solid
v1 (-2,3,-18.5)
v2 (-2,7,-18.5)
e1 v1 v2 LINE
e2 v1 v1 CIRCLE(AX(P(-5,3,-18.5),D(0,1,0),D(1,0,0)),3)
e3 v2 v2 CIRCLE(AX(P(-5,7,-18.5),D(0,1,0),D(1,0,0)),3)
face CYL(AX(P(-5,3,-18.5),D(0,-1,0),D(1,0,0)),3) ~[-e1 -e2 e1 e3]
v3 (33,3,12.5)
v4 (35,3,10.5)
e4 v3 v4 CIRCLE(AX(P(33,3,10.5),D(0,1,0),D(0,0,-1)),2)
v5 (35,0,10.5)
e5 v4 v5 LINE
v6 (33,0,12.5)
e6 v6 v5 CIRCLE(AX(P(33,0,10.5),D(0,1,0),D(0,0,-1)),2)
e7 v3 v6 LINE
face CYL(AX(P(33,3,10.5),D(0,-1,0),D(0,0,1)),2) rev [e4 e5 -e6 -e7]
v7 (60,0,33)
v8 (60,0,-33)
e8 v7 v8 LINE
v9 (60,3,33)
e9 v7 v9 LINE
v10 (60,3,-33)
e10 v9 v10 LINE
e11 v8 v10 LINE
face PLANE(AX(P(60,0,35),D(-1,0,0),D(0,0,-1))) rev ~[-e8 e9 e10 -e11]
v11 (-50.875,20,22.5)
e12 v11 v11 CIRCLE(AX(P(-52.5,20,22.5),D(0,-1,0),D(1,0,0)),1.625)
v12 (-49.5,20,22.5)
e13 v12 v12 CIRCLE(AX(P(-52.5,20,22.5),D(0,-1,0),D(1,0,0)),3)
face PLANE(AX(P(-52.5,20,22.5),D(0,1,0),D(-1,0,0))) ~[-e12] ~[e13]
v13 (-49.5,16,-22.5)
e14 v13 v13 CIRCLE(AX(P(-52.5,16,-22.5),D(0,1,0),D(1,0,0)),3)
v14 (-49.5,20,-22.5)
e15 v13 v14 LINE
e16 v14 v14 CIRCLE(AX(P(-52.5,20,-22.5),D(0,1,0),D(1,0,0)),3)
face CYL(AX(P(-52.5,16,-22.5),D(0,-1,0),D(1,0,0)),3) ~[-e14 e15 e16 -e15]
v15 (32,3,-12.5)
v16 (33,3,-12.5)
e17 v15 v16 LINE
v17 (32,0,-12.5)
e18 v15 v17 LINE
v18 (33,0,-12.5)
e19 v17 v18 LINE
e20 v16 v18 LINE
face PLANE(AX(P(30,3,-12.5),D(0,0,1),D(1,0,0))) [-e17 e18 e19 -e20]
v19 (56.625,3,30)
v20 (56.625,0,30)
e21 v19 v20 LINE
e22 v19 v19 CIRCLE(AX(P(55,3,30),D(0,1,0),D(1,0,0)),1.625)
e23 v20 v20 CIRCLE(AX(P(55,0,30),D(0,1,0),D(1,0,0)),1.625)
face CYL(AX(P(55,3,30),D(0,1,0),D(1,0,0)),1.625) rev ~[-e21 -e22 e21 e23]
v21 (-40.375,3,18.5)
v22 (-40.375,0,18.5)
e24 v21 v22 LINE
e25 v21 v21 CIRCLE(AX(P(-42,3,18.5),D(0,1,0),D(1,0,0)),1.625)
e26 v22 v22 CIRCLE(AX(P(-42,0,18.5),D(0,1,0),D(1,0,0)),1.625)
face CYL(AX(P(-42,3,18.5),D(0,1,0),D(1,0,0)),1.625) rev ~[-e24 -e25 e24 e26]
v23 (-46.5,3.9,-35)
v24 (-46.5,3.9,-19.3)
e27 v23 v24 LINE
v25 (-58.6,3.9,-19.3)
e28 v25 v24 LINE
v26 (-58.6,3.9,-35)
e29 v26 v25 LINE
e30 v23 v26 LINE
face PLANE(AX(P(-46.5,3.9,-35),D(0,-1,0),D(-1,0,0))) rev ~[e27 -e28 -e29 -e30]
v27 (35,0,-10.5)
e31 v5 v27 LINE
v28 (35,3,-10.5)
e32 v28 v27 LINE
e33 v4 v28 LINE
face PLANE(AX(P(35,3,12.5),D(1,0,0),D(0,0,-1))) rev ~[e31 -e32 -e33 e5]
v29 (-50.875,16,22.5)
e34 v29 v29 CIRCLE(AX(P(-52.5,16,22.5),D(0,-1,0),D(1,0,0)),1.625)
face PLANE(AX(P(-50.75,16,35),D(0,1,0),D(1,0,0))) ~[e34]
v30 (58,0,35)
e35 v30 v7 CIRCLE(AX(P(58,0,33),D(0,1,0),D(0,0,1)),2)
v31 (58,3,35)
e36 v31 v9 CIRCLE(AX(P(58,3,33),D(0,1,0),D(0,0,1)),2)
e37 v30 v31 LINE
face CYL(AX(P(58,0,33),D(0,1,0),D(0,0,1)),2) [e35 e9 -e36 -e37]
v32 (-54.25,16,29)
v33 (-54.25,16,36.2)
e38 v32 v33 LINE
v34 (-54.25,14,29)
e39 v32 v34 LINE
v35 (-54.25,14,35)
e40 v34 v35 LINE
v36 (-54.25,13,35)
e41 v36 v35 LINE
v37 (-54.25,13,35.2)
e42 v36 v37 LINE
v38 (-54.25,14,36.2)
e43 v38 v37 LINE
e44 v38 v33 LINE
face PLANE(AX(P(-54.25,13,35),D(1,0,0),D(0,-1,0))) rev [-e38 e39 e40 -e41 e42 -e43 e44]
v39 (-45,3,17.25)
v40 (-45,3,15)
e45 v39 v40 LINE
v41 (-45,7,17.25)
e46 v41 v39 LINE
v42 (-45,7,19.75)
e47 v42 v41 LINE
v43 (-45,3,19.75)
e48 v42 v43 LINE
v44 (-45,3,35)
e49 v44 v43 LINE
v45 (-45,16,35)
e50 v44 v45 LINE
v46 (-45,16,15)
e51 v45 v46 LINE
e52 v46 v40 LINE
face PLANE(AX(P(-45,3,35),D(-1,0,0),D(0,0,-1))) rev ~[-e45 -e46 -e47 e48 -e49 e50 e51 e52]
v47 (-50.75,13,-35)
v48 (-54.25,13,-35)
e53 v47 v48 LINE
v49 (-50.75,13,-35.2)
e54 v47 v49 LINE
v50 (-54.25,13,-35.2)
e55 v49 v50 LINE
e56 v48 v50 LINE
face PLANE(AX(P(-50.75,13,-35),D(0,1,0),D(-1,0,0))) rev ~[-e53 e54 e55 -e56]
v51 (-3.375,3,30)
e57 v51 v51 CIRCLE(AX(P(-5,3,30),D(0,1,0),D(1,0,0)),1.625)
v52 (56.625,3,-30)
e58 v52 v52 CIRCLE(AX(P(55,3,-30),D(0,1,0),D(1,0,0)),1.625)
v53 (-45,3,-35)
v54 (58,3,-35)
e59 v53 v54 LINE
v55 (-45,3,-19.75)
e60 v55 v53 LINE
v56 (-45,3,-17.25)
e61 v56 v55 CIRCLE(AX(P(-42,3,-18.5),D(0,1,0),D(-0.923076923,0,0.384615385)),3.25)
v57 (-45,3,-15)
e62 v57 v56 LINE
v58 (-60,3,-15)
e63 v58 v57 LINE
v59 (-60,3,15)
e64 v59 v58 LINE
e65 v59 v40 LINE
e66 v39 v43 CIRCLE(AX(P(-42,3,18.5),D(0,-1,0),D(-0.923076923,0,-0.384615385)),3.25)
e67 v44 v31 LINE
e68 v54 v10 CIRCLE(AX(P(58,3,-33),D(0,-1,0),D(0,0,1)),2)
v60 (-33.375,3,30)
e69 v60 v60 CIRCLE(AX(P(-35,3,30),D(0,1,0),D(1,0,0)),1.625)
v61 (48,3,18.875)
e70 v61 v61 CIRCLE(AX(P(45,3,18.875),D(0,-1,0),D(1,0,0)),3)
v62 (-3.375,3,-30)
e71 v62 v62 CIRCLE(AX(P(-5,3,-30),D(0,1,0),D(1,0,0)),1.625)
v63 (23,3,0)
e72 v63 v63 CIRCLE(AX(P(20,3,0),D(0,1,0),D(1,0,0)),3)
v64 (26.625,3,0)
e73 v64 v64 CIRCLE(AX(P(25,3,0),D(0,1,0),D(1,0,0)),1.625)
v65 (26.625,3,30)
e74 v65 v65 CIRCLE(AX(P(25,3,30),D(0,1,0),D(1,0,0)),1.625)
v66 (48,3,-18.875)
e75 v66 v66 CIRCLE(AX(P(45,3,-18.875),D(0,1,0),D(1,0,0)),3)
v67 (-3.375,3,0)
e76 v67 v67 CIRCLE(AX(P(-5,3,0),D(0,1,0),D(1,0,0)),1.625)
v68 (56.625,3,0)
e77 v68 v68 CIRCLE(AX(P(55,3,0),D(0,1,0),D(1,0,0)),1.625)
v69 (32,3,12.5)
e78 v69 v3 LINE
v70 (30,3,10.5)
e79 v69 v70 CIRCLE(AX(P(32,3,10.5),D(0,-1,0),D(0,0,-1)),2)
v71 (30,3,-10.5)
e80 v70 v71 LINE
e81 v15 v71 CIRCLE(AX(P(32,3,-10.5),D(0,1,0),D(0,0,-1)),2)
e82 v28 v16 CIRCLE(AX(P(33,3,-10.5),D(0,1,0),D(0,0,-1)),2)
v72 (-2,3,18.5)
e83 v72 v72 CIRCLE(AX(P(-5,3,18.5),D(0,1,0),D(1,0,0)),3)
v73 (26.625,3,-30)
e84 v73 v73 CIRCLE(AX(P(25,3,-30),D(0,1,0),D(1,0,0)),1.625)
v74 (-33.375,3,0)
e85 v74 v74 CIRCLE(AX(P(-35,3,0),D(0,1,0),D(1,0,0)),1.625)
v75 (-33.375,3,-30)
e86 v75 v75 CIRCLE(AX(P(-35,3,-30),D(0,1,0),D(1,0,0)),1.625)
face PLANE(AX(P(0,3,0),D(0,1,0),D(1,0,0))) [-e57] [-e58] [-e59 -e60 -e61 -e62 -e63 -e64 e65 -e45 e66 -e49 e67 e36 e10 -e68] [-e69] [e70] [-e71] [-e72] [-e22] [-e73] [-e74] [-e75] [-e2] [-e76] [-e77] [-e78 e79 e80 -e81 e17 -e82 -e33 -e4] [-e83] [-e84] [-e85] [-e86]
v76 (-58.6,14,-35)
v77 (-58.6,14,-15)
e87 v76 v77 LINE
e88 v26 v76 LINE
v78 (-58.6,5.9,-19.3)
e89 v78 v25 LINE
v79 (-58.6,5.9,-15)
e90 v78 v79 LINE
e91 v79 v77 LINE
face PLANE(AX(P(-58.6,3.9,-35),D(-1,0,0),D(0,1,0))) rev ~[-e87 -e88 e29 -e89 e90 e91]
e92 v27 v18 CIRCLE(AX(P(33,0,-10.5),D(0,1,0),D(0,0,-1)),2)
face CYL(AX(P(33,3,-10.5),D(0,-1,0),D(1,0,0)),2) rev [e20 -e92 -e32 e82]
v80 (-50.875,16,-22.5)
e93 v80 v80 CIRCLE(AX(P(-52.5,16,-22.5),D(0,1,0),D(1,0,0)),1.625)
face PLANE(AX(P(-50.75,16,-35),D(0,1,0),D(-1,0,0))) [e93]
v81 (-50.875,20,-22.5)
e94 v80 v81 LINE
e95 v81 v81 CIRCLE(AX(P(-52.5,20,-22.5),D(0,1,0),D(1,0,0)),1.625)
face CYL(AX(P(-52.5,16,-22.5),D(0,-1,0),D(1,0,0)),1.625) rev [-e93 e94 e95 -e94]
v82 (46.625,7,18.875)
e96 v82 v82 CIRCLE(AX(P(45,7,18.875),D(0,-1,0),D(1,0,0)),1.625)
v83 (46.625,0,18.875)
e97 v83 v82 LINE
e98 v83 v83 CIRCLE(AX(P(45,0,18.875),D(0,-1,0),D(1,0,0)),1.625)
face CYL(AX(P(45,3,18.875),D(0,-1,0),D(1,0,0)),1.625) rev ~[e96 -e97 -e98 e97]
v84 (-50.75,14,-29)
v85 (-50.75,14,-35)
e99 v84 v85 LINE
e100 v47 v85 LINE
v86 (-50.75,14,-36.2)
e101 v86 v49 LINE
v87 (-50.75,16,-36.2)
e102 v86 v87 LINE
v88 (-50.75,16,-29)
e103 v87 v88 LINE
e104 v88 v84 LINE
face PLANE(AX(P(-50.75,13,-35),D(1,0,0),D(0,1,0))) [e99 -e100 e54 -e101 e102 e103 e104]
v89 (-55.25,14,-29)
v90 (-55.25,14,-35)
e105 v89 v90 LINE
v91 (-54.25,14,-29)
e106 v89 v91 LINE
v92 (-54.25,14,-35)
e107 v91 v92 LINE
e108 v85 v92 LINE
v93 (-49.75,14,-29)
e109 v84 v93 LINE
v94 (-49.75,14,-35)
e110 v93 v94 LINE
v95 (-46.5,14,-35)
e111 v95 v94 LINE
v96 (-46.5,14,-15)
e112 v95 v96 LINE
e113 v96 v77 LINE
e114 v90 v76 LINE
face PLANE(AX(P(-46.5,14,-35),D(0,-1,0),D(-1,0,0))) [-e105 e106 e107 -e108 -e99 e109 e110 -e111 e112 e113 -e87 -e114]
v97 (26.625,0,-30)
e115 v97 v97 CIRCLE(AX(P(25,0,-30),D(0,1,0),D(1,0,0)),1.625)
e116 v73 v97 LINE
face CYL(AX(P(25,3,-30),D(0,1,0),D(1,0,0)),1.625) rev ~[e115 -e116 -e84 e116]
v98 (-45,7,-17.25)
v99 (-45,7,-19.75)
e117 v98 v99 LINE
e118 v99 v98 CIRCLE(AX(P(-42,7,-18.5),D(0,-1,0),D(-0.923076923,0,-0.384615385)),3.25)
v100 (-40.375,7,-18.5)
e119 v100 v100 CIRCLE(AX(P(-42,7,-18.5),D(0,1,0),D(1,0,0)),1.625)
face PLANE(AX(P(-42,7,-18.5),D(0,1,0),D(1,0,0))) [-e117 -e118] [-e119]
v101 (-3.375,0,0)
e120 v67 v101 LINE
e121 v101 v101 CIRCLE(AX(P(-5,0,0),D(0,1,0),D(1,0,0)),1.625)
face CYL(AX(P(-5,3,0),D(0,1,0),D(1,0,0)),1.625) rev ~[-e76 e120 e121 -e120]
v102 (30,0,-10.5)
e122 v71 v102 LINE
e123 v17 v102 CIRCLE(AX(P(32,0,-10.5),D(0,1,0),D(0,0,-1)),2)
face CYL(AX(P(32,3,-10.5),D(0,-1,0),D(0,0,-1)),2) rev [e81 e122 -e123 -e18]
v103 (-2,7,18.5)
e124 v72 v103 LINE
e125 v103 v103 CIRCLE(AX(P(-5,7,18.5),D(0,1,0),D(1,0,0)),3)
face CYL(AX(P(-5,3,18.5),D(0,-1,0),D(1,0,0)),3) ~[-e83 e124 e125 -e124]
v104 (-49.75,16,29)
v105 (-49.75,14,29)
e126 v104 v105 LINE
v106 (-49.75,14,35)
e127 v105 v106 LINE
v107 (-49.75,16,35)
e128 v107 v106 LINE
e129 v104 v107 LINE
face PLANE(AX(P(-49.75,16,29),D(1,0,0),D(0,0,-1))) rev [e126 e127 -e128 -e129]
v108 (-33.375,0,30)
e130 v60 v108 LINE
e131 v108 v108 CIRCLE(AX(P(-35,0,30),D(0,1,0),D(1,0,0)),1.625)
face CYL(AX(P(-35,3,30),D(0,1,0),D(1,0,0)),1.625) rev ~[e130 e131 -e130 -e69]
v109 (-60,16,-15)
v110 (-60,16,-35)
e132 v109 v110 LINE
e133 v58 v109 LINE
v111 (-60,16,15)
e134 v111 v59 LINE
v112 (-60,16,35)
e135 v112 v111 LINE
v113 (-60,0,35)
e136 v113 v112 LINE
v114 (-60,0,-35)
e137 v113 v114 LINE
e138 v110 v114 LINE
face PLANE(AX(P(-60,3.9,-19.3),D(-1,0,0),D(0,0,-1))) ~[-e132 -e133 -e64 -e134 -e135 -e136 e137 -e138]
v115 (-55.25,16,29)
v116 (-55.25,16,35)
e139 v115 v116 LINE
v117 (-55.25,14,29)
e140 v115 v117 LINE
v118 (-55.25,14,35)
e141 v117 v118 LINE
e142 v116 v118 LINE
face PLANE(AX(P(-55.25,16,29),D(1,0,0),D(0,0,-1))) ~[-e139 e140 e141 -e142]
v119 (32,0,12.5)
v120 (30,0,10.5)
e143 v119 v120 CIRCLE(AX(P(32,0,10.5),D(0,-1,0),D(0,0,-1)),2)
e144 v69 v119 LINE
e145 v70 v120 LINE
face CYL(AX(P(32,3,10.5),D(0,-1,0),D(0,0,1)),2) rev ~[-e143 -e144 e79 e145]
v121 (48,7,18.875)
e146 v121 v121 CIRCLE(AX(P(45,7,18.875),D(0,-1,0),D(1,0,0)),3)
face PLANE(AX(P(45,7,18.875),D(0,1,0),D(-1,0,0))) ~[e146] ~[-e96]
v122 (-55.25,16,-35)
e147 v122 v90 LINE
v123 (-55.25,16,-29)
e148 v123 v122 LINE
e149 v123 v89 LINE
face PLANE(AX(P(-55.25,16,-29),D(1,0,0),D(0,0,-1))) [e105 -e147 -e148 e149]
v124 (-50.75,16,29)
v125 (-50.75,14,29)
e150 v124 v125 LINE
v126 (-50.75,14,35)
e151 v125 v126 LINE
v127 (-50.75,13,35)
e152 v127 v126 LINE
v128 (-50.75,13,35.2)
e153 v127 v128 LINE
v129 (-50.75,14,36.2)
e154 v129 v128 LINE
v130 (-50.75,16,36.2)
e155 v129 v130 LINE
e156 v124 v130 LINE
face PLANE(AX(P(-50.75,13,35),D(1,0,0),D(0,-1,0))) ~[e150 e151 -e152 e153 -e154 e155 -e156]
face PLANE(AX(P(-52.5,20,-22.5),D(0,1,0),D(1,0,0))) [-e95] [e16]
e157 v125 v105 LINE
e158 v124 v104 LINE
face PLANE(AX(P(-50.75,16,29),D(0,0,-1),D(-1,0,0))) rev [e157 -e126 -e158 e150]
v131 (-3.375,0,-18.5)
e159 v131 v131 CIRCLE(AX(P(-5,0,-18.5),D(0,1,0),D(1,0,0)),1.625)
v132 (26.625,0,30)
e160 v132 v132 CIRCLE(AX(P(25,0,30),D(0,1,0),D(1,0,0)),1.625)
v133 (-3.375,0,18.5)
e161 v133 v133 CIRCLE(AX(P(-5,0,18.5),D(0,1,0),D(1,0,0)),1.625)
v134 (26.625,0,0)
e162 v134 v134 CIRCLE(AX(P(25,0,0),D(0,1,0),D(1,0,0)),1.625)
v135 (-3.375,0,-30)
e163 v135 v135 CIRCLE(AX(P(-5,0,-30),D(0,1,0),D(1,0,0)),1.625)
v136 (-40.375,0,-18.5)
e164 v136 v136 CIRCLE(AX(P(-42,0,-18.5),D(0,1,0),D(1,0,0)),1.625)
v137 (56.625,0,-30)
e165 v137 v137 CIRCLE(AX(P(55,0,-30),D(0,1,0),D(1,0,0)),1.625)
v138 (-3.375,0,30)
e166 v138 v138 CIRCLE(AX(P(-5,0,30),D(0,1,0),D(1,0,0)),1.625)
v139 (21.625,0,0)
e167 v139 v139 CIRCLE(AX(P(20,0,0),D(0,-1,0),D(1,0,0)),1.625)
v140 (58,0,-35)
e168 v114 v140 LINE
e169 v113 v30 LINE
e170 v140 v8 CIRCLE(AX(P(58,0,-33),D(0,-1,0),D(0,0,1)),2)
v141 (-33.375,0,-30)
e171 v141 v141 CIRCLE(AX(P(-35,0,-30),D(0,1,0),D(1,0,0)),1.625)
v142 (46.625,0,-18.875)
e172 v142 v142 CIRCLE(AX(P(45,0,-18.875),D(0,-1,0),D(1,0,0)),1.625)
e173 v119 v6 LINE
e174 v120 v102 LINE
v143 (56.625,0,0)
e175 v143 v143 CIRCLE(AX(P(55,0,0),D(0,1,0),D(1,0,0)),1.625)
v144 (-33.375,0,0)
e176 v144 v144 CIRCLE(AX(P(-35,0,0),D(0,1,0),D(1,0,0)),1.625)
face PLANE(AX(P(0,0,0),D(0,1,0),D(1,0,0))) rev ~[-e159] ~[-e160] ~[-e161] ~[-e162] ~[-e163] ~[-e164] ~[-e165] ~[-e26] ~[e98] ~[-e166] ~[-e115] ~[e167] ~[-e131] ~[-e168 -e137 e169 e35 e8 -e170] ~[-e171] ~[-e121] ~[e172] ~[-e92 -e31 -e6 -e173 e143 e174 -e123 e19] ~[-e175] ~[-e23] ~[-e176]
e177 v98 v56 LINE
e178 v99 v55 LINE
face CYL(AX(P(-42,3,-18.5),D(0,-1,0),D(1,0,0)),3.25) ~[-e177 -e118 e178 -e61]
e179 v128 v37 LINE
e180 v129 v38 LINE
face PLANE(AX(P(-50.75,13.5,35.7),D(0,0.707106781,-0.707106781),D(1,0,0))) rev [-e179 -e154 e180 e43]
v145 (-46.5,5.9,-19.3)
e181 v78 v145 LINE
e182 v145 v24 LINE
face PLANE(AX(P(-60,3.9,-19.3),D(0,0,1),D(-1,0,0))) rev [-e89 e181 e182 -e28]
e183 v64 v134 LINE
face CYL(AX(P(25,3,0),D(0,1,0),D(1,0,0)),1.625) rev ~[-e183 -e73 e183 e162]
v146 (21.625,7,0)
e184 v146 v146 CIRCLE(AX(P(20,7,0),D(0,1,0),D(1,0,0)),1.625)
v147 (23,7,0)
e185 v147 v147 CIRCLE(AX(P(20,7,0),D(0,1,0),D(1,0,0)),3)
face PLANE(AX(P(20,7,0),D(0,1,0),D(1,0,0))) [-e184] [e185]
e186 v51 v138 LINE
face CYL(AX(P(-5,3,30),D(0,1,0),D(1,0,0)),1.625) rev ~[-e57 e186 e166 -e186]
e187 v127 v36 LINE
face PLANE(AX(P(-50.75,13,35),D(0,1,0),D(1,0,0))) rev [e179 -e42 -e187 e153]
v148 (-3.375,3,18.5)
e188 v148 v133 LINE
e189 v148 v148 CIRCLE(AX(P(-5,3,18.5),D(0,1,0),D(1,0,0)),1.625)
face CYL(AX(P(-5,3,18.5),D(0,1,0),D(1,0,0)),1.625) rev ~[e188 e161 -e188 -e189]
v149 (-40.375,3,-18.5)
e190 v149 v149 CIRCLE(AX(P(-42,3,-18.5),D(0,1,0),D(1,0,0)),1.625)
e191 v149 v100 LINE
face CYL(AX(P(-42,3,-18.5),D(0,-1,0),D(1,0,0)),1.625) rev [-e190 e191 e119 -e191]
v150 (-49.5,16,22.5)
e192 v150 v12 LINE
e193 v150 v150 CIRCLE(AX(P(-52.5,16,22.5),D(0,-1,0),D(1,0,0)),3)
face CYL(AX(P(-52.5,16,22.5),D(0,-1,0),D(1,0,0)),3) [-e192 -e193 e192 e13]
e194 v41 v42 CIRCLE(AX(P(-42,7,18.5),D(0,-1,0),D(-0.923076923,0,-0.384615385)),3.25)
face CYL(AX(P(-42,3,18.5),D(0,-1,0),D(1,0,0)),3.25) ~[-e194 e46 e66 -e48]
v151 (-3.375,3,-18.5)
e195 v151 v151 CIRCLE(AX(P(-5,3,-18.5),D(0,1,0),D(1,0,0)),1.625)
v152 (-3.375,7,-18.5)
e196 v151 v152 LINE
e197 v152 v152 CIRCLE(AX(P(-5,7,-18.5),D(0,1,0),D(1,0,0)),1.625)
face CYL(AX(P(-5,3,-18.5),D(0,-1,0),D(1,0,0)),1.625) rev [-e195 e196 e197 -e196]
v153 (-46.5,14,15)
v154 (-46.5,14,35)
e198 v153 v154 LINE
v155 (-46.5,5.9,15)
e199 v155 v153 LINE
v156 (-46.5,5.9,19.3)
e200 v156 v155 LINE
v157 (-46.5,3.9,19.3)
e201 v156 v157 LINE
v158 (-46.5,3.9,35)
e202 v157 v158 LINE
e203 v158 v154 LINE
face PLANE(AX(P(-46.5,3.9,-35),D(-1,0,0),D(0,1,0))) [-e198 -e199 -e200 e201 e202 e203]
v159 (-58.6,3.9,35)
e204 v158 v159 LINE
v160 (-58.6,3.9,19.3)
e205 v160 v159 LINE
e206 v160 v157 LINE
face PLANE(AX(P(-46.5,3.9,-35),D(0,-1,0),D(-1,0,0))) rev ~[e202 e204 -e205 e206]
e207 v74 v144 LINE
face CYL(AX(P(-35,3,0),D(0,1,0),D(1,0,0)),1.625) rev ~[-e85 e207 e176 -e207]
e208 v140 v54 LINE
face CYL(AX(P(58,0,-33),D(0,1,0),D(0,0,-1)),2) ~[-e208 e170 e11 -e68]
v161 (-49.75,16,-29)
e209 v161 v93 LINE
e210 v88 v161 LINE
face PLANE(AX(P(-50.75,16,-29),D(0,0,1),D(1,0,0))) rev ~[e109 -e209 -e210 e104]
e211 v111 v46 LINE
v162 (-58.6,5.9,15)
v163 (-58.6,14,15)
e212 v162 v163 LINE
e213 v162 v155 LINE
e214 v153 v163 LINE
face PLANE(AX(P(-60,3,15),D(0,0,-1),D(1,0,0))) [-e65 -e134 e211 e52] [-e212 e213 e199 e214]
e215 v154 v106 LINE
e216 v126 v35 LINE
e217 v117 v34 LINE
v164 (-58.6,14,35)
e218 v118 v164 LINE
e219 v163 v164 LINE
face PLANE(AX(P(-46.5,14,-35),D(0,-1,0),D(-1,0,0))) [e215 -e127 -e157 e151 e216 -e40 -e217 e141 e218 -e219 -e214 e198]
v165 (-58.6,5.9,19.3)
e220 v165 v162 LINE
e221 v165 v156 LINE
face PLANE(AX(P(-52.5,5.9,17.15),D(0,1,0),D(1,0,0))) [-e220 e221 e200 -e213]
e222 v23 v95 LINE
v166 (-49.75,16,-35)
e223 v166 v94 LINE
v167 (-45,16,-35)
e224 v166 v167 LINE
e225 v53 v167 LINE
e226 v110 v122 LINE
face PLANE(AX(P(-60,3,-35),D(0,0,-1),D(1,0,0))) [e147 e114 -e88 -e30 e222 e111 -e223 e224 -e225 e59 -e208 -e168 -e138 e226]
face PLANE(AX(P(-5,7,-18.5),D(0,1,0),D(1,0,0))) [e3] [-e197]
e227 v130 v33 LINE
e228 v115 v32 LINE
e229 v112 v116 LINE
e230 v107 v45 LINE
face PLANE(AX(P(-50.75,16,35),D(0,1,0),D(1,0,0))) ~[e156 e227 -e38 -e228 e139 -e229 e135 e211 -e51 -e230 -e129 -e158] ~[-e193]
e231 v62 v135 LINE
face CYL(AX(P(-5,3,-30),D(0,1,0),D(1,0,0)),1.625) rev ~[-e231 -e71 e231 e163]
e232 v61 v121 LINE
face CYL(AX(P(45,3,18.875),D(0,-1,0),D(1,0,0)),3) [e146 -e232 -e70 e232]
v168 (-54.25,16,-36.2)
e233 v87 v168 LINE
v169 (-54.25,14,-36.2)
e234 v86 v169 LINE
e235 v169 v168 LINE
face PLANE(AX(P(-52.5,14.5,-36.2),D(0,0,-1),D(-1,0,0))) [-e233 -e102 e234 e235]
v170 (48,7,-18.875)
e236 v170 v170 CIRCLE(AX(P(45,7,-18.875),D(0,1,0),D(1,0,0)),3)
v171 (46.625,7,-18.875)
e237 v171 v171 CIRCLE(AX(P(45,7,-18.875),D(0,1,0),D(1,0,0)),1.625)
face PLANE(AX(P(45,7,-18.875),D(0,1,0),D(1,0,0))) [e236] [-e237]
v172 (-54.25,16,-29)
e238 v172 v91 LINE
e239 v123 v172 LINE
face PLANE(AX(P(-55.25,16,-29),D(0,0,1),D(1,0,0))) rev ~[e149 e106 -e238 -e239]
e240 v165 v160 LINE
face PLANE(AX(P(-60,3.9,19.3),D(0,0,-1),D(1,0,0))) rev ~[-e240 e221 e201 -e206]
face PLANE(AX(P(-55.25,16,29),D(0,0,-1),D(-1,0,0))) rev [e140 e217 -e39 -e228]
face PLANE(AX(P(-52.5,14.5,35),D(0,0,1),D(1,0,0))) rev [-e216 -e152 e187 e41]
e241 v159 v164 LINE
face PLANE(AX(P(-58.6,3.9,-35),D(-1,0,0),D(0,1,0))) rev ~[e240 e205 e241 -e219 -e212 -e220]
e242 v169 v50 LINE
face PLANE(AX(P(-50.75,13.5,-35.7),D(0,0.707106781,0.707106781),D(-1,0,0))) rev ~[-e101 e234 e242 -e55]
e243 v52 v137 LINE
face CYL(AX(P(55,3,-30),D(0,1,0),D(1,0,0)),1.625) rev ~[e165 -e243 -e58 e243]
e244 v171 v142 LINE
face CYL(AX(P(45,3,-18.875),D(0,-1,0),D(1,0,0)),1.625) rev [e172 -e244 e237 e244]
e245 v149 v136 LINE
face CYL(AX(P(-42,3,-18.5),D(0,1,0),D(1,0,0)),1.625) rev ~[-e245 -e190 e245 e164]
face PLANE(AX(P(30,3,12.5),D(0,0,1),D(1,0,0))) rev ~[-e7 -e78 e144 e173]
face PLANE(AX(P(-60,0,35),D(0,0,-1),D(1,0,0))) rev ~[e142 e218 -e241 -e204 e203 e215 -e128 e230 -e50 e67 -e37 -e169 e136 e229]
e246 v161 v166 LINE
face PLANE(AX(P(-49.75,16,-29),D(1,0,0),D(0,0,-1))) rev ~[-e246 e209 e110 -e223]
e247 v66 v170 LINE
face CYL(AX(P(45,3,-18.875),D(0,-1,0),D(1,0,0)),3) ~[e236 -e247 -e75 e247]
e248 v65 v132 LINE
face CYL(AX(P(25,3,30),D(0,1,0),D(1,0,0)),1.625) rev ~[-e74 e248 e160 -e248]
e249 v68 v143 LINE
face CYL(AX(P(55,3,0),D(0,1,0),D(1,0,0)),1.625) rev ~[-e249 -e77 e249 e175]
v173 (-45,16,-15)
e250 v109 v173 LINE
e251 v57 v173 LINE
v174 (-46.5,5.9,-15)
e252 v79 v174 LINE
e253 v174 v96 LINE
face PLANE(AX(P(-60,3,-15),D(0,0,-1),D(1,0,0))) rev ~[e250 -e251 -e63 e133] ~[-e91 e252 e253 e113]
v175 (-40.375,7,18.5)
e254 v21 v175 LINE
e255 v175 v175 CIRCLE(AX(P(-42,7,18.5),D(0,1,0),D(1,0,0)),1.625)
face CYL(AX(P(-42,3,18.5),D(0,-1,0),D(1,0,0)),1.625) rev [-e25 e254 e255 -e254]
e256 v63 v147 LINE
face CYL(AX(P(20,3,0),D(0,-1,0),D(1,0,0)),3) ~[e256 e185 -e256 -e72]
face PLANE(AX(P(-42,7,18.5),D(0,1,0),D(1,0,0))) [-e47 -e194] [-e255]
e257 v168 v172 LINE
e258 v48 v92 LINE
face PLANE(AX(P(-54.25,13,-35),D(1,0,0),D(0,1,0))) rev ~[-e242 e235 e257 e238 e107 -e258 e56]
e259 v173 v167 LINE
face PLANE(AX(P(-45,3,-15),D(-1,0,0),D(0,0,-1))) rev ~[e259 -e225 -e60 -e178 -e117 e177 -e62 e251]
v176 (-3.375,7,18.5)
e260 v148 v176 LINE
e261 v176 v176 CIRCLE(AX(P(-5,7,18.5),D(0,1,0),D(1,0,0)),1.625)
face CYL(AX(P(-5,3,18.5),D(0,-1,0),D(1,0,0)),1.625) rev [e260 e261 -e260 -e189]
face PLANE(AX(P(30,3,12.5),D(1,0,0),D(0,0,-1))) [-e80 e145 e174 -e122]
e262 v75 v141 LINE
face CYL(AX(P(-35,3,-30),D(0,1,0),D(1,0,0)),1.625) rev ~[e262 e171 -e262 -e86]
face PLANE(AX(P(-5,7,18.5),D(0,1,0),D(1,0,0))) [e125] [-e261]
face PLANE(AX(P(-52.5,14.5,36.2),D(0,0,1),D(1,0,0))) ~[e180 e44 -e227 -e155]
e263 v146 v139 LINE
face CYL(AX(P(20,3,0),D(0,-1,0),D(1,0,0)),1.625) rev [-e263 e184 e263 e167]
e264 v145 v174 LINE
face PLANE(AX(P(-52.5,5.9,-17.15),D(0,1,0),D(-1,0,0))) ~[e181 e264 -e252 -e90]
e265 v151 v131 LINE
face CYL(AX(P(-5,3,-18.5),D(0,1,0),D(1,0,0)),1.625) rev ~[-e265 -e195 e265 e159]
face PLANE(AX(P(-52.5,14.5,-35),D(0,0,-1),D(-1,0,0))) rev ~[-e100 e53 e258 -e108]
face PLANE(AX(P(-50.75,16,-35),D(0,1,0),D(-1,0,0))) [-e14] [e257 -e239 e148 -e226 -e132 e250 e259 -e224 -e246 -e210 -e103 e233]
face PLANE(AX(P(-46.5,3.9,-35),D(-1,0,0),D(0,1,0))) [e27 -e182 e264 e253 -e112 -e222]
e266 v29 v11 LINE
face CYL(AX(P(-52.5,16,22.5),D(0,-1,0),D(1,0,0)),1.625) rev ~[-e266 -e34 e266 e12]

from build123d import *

# Parameters (mm, degrees)
SKETCH1_W                 = 120
SKETCH1_H                 = 70
BOSS_EXTRUDE1_DEPTH       = 3
SKETCH6_W                 = 15
SKETCH6_H                 = 20
BOSS_EXTRUDE3_DEPTH       = 13
SKETCH7_W                 = 12.1
SKETCH7_H                 = 10.1
CUT_EXTRUDE3_DEPTH        = 71
SKETCH8_W                 = 15
SKETCH8_H                 = 4.3
BOSS_EXTRUDE4_DEPTH       = 2
SKETCH9_W                 = 1
SKETCH9_H                 = 6
CUT_EXTRUDE4_DEPTH        = 2
SKETCH10_W                = 3.5
SKETCH10_H                = 3
BOSS_EXTRUDE5_DEPTH       = 1.2
CHAMFER1_SIZE             = 1
CHAMFER1_OF_MIRROR3_SIZE  = 1
CUT_EXTRUDE5_REACH        = 18
SKETCH3_R                 = 1.625
SKETCH12_R                = 3
SKETCH12_R_2              = 1.625
BOSS_EXTRUDE7_DEPTH       = 4
CUT_EXTRUDE6_REACH        = 18
SKETCH11_R                = 1.625
SKETCH13_R                = 3
SKETCH13_R_2              = 1.625
BOSS_EXTRUDE8_DEPTH       = 4
SKETCH14_R                = 1.625
CUT_EXTRUDE7_DEPTH        = 4
SKETCH15_R                = 3.25
SKETCH15_R_2              = 1.625
SKETCH15_R_3              = 3
BOSS_EXTRUDE13_DEPTH      = 4
SKETCH17_W                = 5
SKETCH17_H                = 25
CUT_EXTRUDE8_DEPTH        = 4
SKETCH18_R                = 3
SKETCH18_R_2              = 1.625
BOSS_EXTRUDE14_DEPTH      = 4
FILLET2_R                 = 2
SKETCH19_R                = 1.625
CUT_EXTRUDE9_DEPTH        = 4
LPATTERN1_COUNT           = 2
LPATTERN1_PITCH           = 30
LPATTERN1_COL_COUNT       = 2
LPATTERN1_COL_PITCH       = 30
LPATTERN2_COUNT           = 4
LPATTERN2_PITCH           = 30
LPATTERN2_COPY_1_SKETCH_R = 1.625
LPATTERN2_COPY_1_DEPTH    = 4
LPATTERN2_COPY_2_SKETCH_R = 1.625
LPATTERN2_COPY_2_DEPTH    = 4
LPATTERN2_COPY_3_SKETCH_R = 1.625
LPATTERN2_COPY_3_DEPTH    = 4
LPATTERN2_COPY_4_SKETCH_R = 1.625
LPATTERN2_COPY_4_DEPTH    = 4
LPATTERN2_COPY_5_SKETCH_R = 1.625
LPATTERN2_COPY_5_DEPTH    = 4
LPATTERN2_COPY_6_SKETCH_R = 1.625
LPATTERN2_COPY_6_DEPTH    = 4


with BuildPart() as part:
    # Sketch1 → Boss-Extrude1 (new body)
    with BuildSketch(Plane(origin=(0, 0, 0), x_dir=(1, 0, 0), z_dir=(0, 1, 0))):
        Rectangle(SKETCH1_W, SKETCH1_H)
    extrude(amount=BOSS_EXTRUDE1_DEPTH)

    # Sketch6 → Boss-Extrude3 (add)
    with BuildSketch(Plane(origin=(0, 3, 0), x_dir=(1, 0, 0), z_dir=(0, 1, 0))):
        with Locations((-52.5, 25)):
            Rectangle(SKETCH6_W, SKETCH6_H)
        with Locations((-52.5, -25)):
            Rectangle(SKETCH6_W, SKETCH6_H)
    extrude(amount=BOSS_EXTRUDE3_DEPTH)

    # Sketch7 → Cut-Extrude3 (cut, through all)
    with BuildSketch(Plane(origin=(0, 0, -35), x_dir=(-1, 0, 0), z_dir=(0, 0, -1))):
        with Locations((52.55, 8.95)):
            Rectangle(SKETCH7_W, SKETCH7_H)
    extrude(amount=-CUT_EXTRUDE3_DEPTH, mode=Mode.SUBTRACT)

    # Sketch8 → Boss-Extrude4 (add)
    with BuildSketch(Plane(origin=(0, 3.9, 0), x_dir=(1, 0, 0), z_dir=(0, 1, 0))):
        with Locations((-52.5, -17.15)):
            Rectangle(SKETCH8_W, SKETCH8_H)
    boss_extrude4 = extrude(amount=BOSS_EXTRUDE4_DEPTH)

    # Mirror1: Boss-Extrude4 across plane
    add(boss_extrude4.mirror(Plane.XY))

    # Sketch9 → Cut-Extrude4 (cut)
    with BuildSketch(Plane(origin=(0, 16, 0), x_dir=(1, 0, 0), z_dir=(0, 1, 0))):
        with Locations((-54.75, 32)):
            Rectangle(SKETCH9_W, SKETCH9_H)
        with Locations((-50.25, 32)):
            Rectangle(SKETCH9_W, SKETCH9_H)
    cut_extrude4 = extrude(amount=-CUT_EXTRUDE4_DEPTH, mode=Mode.SUBTRACT)

    # Mirror2: Cut-Extrude4 across plane
    add(cut_extrude4.mirror(Plane.XY), mode=Mode.SUBTRACT)

    # Sketch10 → Boss-Extrude5 (add)
    with BuildSketch(Plane(origin=(0, 0, -35), x_dir=(-1, 0, 0), z_dir=(0, 0, -1))):
        with Locations((52.5, 14.5)):
            Rectangle(SKETCH10_W, SKETCH10_H)
    boss_extrude5 = extrude(amount=BOSS_EXTRUDE5_DEPTH)

    # Chamfer1
    chamfer1_edges = [part.edges().sort_by_distance(p)[0] for p in [
        (-52.5, 13, -36.2),
    ]]
    chamfer(chamfer1_edges, length=CHAMFER1_SIZE)

    # Mirror3: Boss-Extrude5 across plane
    add(boss_extrude5.mirror(Plane.XY))

    # Chamfer1 of Mirror3
    chamfer1_of_mirror3_edges = [part.edges().sort_by_distance(p)[0] for p in [
        (-52.5, 13, 36.2),
    ]]
    chamfer(chamfer1_of_mirror3_edges, length=CHAMFER1_OF_MIRROR3_SIZE)

    # Sketch3 → Cut-Extrude5 (cut, up to next)
    with BuildSketch(Plane.XZ, mode=Mode.PRIVATE) as cut_extrude5_sk1:
        with Locations((45, 18.875)):
            Circle(SKETCH3_R)
    cut_extrude5_tool1 = extrude(cut_extrude5_sk1.sketch, amount=-CUT_EXTRUDE5_REACH, mode=Mode.PRIVATE) & part.part
    add(cut_extrude5_tool1.solids().sort_by_distance((45, 0, 18.875))[0], mode=Mode.SUBTRACT)
    # Sketch3 → Cut-Extrude5 (cut, up to next)
    with BuildSketch(Plane.XZ, mode=Mode.PRIVATE) as cut_extrude5_sk2:
        with Locations((45, -18.875)):
            Circle(SKETCH3_R)
    cut_extrude5_tool2 = extrude(cut_extrude5_sk2.sketch, amount=-CUT_EXTRUDE5_REACH, mode=Mode.PRIVATE) & part.part
    add(cut_extrude5_tool2.solids().sort_by_distance((45, 0, -18.875))[0], mode=Mode.SUBTRACT)

    # Sketch12 → Boss-Extrude7 (add)
    with BuildSketch(Plane(origin=(0, 3, 0), x_dir=(1, 0, 0), z_dir=(0, 1, 0))):
        with Locations((45, 18.875)):
            Circle(SKETCH12_R)
        with Locations((45, 18.875)):
            Circle(SKETCH12_R_2, mode=Mode.SUBTRACT)
    boss_extrude7 = extrude(amount=BOSS_EXTRUDE7_DEPTH)

    # Mirror4: Boss-Extrude7 across plane
    add(boss_extrude7.mirror(Plane.XY))

    # Sketch11 → Cut-Extrude6 (cut, up to next)
    with BuildSketch(Plane.XZ, mode=Mode.PRIVATE) as cut_extrude6_sk1:
        with Locations((20, 0)):
            Circle(SKETCH11_R)
    cut_extrude6_tool1 = extrude(cut_extrude6_sk1.sketch, amount=-CUT_EXTRUDE6_REACH, mode=Mode.PRIVATE) & part.part
    add(cut_extrude6_tool1.solids().sort_by_distance((20, 0, 0))[0], mode=Mode.SUBTRACT)

    # Sketch13 → Boss-Extrude8 (add)
    with BuildSketch(Plane(origin=(0, 3, 0), x_dir=(1, 0, 0), z_dir=(0, 1, 0))):
        with Locations((20, 0)):
            Circle(SKETCH13_R)
        with Locations((20, 0)):
            Circle(SKETCH13_R_2, mode=Mode.SUBTRACT)
    extrude(amount=BOSS_EXTRUDE8_DEPTH)

    # Sketch14 → Cut-Extrude7 (cut, through all)
    with BuildSketch(Plane(origin=(0, 3, 0), x_dir=(1, 0, 0), z_dir=(0, 1, 0))):
        with Locations((-42, 18.5)):
            Circle(SKETCH14_R)
        with Locations((-42, -18.5)):
            Circle(SKETCH14_R)
        with Locations((-5, 18.5)):
            Circle(SKETCH14_R)
        with Locations((-5, -18.5)):
            Circle(SKETCH14_R)
    extrude(amount=-CUT_EXTRUDE7_DEPTH, mode=Mode.SUBTRACT)

    # Sketch15 → Boss-Extrude13 (add)
    with BuildSketch(Plane(origin=(0, 3, 0), x_dir=(1, 0, 0), z_dir=(0, 1, 0))):
        with Locations((-42, 18.5)):
            Circle(SKETCH15_R)
        with Locations((-42, 18.5)):
            Circle(SKETCH15_R_2, mode=Mode.SUBTRACT)
        with Locations((-5, 18.5)):
            Circle(SKETCH15_R_3)
        with Locations((-5, 18.5)):
            Circle(SKETCH15_R_2, mode=Mode.SUBTRACT)
        with Locations((-5, -18.5)):
            Circle(SKETCH15_R_3)
        with Locations((-5, -18.5)):
            Circle(SKETCH15_R_2, mode=Mode.SUBTRACT)
        with Locations((-42, -18.5)):
            Circle(SKETCH15_R)
        with Locations((-42, -18.5)):
            Circle(SKETCH15_R_2, mode=Mode.SUBTRACT)
    extrude(amount=BOSS_EXTRUDE13_DEPTH)

    # Sketch17 → Cut-Extrude8 (cut, through all)
    with BuildSketch(Plane(origin=(0, 3, 0), x_dir=(1, 0, 0), z_dir=(0, 1, 0))):
        with Locations((32.5, 0)):
            Rectangle(SKETCH17_W, SKETCH17_H)
    extrude(amount=-CUT_EXTRUDE8_DEPTH, mode=Mode.SUBTRACT)

    # Sketch18 → Boss-Extrude14 (add)
    with BuildSketch(Plane(origin=(0, 16, 0), x_dir=(1, 0, 0), z_dir=(0, 1, 0))):
        with Locations((-52.5, 22.5)):
            Circle(SKETCH18_R)
        with Locations((-52.5, 22.5)):
            Circle(SKETCH18_R_2, mode=Mode.SUBTRACT)
    boss_extrude14 = extrude(amount=BOSS_EXTRUDE14_DEPTH)

    # Mirror5: Boss-Extrude14 across plane
    add(boss_extrude14.mirror(Plane.XY))

    # Fillet2
    fillet2_edges = [part.edges().sort_by_distance(p)[0] for p in [
        (30, 1.5, 12.5),
        (30, 1.5, -12.5),
        (35, 1.5, -12.5),
        (35, 1.5, 12.5),
        (60, 1.5, -35),
        (60, 1.5, 35),
    ]]
    fillet(fillet2_edges, radius=FILLET2_R)

    # Sketch19 → Cut-Extrude9 (cut, through all)
    with BuildSketch(Plane(origin=(0, 3, 0), x_dir=(1, 0, 0), z_dir=(0, 1, 0))):
        with Locations((55, 0)):
            Circle(SKETCH19_R)
    cut_extrude9 = extrude(amount=-CUT_EXTRUDE9_DEPTH, mode=Mode.SUBTRACT)

    # LPattern1: Cut-Extrude9 ×2
    with Locations(*[(0, 0, i * LPATTERN1_PITCH) for i in range(1, LPATTERN1_COUNT)]):
        add(cut_extrude9, mode=Mode.SUBTRACT)

    # LPattern1 col: Cut-Extrude9 ×2
    with Locations(*[(0, 0, -i * LPATTERN1_COL_PITCH) for i in range(1, LPATTERN1_COL_COUNT)]):
        add(cut_extrude9, mode=Mode.SUBTRACT)

    # LPattern2: Cut-Extrude9 ×4
    with Locations(*[(-i * LPATTERN2_PITCH, 0, 0) for i in range(1, LPATTERN2_COUNT)]):
        add(cut_extrude9, mode=Mode.SUBTRACT)

    # LPattern2 copy 1 sketch → LPattern2 copy 1 (cut, through all)
    with BuildSketch(Plane(origin=(-30, 3, 30), x_dir=(1, 0, 0), z_dir=(0, 1, 0))):
        with Locations((55, 0)):
            Circle(LPATTERN2_COPY_1_SKETCH_R)
    extrude(amount=-LPATTERN2_COPY_1_DEPTH, mode=Mode.SUBTRACT)

    # LPattern2 copy 2 sketch → LPattern2 copy 2 (cut, through all)
    with BuildSketch(Plane(origin=(-60, 3, 30), x_dir=(1, 0, 0), z_dir=(0, 1, 0))):
        with Locations((55, 0)):
            Circle(LPATTERN2_COPY_2_SKETCH_R)
    extrude(amount=-LPATTERN2_COPY_2_DEPTH, mode=Mode.SUBTRACT)

    # LPattern2 copy 3 sketch → LPattern2 copy 3 (cut, through all)
    with BuildSketch(Plane(origin=(-90, 3, 30), x_dir=(1, 0, 0), z_dir=(0, 1, 0))):
        with Locations((55, 0)):
            Circle(LPATTERN2_COPY_3_SKETCH_R)
    extrude(amount=-LPATTERN2_COPY_3_DEPTH, mode=Mode.SUBTRACT)

    # LPattern2 copy 4 sketch → LPattern2 copy 4 (cut, through all)
    with BuildSketch(Plane(origin=(-30, 3, -30), x_dir=(1, 0, 0), z_dir=(0, 1, 0))):
        with Locations((55, 0)):
            Circle(LPATTERN2_COPY_4_SKETCH_R)
    extrude(amount=-LPATTERN2_COPY_4_DEPTH, mode=Mode.SUBTRACT)

    # LPattern2 copy 5 sketch → LPattern2 copy 5 (cut, through all)
    with BuildSketch(Plane(origin=(-60, 3, -30), x_dir=(1, 0, 0), z_dir=(0, 1, 0))):
        with Locations((55, 0)):
            Circle(LPATTERN2_COPY_5_SKETCH_R)
    extrude(amount=-LPATTERN2_COPY_5_DEPTH, mode=Mode.SUBTRACT)

    # LPattern2 copy 6 sketch → LPattern2 copy 6 (cut, through all)
    with BuildSketch(Plane(origin=(-90, 3, -30), x_dir=(1, 0, 0), z_dir=(0, 1, 0))):
        with Locations((55, 0)):
            Circle(LPATTERN2_COPY_6_SKETCH_R)
    extrude(amount=-LPATTERN2_COPY_6_DEPTH, mode=Mode.SUBTRACT)


solid = part.part
